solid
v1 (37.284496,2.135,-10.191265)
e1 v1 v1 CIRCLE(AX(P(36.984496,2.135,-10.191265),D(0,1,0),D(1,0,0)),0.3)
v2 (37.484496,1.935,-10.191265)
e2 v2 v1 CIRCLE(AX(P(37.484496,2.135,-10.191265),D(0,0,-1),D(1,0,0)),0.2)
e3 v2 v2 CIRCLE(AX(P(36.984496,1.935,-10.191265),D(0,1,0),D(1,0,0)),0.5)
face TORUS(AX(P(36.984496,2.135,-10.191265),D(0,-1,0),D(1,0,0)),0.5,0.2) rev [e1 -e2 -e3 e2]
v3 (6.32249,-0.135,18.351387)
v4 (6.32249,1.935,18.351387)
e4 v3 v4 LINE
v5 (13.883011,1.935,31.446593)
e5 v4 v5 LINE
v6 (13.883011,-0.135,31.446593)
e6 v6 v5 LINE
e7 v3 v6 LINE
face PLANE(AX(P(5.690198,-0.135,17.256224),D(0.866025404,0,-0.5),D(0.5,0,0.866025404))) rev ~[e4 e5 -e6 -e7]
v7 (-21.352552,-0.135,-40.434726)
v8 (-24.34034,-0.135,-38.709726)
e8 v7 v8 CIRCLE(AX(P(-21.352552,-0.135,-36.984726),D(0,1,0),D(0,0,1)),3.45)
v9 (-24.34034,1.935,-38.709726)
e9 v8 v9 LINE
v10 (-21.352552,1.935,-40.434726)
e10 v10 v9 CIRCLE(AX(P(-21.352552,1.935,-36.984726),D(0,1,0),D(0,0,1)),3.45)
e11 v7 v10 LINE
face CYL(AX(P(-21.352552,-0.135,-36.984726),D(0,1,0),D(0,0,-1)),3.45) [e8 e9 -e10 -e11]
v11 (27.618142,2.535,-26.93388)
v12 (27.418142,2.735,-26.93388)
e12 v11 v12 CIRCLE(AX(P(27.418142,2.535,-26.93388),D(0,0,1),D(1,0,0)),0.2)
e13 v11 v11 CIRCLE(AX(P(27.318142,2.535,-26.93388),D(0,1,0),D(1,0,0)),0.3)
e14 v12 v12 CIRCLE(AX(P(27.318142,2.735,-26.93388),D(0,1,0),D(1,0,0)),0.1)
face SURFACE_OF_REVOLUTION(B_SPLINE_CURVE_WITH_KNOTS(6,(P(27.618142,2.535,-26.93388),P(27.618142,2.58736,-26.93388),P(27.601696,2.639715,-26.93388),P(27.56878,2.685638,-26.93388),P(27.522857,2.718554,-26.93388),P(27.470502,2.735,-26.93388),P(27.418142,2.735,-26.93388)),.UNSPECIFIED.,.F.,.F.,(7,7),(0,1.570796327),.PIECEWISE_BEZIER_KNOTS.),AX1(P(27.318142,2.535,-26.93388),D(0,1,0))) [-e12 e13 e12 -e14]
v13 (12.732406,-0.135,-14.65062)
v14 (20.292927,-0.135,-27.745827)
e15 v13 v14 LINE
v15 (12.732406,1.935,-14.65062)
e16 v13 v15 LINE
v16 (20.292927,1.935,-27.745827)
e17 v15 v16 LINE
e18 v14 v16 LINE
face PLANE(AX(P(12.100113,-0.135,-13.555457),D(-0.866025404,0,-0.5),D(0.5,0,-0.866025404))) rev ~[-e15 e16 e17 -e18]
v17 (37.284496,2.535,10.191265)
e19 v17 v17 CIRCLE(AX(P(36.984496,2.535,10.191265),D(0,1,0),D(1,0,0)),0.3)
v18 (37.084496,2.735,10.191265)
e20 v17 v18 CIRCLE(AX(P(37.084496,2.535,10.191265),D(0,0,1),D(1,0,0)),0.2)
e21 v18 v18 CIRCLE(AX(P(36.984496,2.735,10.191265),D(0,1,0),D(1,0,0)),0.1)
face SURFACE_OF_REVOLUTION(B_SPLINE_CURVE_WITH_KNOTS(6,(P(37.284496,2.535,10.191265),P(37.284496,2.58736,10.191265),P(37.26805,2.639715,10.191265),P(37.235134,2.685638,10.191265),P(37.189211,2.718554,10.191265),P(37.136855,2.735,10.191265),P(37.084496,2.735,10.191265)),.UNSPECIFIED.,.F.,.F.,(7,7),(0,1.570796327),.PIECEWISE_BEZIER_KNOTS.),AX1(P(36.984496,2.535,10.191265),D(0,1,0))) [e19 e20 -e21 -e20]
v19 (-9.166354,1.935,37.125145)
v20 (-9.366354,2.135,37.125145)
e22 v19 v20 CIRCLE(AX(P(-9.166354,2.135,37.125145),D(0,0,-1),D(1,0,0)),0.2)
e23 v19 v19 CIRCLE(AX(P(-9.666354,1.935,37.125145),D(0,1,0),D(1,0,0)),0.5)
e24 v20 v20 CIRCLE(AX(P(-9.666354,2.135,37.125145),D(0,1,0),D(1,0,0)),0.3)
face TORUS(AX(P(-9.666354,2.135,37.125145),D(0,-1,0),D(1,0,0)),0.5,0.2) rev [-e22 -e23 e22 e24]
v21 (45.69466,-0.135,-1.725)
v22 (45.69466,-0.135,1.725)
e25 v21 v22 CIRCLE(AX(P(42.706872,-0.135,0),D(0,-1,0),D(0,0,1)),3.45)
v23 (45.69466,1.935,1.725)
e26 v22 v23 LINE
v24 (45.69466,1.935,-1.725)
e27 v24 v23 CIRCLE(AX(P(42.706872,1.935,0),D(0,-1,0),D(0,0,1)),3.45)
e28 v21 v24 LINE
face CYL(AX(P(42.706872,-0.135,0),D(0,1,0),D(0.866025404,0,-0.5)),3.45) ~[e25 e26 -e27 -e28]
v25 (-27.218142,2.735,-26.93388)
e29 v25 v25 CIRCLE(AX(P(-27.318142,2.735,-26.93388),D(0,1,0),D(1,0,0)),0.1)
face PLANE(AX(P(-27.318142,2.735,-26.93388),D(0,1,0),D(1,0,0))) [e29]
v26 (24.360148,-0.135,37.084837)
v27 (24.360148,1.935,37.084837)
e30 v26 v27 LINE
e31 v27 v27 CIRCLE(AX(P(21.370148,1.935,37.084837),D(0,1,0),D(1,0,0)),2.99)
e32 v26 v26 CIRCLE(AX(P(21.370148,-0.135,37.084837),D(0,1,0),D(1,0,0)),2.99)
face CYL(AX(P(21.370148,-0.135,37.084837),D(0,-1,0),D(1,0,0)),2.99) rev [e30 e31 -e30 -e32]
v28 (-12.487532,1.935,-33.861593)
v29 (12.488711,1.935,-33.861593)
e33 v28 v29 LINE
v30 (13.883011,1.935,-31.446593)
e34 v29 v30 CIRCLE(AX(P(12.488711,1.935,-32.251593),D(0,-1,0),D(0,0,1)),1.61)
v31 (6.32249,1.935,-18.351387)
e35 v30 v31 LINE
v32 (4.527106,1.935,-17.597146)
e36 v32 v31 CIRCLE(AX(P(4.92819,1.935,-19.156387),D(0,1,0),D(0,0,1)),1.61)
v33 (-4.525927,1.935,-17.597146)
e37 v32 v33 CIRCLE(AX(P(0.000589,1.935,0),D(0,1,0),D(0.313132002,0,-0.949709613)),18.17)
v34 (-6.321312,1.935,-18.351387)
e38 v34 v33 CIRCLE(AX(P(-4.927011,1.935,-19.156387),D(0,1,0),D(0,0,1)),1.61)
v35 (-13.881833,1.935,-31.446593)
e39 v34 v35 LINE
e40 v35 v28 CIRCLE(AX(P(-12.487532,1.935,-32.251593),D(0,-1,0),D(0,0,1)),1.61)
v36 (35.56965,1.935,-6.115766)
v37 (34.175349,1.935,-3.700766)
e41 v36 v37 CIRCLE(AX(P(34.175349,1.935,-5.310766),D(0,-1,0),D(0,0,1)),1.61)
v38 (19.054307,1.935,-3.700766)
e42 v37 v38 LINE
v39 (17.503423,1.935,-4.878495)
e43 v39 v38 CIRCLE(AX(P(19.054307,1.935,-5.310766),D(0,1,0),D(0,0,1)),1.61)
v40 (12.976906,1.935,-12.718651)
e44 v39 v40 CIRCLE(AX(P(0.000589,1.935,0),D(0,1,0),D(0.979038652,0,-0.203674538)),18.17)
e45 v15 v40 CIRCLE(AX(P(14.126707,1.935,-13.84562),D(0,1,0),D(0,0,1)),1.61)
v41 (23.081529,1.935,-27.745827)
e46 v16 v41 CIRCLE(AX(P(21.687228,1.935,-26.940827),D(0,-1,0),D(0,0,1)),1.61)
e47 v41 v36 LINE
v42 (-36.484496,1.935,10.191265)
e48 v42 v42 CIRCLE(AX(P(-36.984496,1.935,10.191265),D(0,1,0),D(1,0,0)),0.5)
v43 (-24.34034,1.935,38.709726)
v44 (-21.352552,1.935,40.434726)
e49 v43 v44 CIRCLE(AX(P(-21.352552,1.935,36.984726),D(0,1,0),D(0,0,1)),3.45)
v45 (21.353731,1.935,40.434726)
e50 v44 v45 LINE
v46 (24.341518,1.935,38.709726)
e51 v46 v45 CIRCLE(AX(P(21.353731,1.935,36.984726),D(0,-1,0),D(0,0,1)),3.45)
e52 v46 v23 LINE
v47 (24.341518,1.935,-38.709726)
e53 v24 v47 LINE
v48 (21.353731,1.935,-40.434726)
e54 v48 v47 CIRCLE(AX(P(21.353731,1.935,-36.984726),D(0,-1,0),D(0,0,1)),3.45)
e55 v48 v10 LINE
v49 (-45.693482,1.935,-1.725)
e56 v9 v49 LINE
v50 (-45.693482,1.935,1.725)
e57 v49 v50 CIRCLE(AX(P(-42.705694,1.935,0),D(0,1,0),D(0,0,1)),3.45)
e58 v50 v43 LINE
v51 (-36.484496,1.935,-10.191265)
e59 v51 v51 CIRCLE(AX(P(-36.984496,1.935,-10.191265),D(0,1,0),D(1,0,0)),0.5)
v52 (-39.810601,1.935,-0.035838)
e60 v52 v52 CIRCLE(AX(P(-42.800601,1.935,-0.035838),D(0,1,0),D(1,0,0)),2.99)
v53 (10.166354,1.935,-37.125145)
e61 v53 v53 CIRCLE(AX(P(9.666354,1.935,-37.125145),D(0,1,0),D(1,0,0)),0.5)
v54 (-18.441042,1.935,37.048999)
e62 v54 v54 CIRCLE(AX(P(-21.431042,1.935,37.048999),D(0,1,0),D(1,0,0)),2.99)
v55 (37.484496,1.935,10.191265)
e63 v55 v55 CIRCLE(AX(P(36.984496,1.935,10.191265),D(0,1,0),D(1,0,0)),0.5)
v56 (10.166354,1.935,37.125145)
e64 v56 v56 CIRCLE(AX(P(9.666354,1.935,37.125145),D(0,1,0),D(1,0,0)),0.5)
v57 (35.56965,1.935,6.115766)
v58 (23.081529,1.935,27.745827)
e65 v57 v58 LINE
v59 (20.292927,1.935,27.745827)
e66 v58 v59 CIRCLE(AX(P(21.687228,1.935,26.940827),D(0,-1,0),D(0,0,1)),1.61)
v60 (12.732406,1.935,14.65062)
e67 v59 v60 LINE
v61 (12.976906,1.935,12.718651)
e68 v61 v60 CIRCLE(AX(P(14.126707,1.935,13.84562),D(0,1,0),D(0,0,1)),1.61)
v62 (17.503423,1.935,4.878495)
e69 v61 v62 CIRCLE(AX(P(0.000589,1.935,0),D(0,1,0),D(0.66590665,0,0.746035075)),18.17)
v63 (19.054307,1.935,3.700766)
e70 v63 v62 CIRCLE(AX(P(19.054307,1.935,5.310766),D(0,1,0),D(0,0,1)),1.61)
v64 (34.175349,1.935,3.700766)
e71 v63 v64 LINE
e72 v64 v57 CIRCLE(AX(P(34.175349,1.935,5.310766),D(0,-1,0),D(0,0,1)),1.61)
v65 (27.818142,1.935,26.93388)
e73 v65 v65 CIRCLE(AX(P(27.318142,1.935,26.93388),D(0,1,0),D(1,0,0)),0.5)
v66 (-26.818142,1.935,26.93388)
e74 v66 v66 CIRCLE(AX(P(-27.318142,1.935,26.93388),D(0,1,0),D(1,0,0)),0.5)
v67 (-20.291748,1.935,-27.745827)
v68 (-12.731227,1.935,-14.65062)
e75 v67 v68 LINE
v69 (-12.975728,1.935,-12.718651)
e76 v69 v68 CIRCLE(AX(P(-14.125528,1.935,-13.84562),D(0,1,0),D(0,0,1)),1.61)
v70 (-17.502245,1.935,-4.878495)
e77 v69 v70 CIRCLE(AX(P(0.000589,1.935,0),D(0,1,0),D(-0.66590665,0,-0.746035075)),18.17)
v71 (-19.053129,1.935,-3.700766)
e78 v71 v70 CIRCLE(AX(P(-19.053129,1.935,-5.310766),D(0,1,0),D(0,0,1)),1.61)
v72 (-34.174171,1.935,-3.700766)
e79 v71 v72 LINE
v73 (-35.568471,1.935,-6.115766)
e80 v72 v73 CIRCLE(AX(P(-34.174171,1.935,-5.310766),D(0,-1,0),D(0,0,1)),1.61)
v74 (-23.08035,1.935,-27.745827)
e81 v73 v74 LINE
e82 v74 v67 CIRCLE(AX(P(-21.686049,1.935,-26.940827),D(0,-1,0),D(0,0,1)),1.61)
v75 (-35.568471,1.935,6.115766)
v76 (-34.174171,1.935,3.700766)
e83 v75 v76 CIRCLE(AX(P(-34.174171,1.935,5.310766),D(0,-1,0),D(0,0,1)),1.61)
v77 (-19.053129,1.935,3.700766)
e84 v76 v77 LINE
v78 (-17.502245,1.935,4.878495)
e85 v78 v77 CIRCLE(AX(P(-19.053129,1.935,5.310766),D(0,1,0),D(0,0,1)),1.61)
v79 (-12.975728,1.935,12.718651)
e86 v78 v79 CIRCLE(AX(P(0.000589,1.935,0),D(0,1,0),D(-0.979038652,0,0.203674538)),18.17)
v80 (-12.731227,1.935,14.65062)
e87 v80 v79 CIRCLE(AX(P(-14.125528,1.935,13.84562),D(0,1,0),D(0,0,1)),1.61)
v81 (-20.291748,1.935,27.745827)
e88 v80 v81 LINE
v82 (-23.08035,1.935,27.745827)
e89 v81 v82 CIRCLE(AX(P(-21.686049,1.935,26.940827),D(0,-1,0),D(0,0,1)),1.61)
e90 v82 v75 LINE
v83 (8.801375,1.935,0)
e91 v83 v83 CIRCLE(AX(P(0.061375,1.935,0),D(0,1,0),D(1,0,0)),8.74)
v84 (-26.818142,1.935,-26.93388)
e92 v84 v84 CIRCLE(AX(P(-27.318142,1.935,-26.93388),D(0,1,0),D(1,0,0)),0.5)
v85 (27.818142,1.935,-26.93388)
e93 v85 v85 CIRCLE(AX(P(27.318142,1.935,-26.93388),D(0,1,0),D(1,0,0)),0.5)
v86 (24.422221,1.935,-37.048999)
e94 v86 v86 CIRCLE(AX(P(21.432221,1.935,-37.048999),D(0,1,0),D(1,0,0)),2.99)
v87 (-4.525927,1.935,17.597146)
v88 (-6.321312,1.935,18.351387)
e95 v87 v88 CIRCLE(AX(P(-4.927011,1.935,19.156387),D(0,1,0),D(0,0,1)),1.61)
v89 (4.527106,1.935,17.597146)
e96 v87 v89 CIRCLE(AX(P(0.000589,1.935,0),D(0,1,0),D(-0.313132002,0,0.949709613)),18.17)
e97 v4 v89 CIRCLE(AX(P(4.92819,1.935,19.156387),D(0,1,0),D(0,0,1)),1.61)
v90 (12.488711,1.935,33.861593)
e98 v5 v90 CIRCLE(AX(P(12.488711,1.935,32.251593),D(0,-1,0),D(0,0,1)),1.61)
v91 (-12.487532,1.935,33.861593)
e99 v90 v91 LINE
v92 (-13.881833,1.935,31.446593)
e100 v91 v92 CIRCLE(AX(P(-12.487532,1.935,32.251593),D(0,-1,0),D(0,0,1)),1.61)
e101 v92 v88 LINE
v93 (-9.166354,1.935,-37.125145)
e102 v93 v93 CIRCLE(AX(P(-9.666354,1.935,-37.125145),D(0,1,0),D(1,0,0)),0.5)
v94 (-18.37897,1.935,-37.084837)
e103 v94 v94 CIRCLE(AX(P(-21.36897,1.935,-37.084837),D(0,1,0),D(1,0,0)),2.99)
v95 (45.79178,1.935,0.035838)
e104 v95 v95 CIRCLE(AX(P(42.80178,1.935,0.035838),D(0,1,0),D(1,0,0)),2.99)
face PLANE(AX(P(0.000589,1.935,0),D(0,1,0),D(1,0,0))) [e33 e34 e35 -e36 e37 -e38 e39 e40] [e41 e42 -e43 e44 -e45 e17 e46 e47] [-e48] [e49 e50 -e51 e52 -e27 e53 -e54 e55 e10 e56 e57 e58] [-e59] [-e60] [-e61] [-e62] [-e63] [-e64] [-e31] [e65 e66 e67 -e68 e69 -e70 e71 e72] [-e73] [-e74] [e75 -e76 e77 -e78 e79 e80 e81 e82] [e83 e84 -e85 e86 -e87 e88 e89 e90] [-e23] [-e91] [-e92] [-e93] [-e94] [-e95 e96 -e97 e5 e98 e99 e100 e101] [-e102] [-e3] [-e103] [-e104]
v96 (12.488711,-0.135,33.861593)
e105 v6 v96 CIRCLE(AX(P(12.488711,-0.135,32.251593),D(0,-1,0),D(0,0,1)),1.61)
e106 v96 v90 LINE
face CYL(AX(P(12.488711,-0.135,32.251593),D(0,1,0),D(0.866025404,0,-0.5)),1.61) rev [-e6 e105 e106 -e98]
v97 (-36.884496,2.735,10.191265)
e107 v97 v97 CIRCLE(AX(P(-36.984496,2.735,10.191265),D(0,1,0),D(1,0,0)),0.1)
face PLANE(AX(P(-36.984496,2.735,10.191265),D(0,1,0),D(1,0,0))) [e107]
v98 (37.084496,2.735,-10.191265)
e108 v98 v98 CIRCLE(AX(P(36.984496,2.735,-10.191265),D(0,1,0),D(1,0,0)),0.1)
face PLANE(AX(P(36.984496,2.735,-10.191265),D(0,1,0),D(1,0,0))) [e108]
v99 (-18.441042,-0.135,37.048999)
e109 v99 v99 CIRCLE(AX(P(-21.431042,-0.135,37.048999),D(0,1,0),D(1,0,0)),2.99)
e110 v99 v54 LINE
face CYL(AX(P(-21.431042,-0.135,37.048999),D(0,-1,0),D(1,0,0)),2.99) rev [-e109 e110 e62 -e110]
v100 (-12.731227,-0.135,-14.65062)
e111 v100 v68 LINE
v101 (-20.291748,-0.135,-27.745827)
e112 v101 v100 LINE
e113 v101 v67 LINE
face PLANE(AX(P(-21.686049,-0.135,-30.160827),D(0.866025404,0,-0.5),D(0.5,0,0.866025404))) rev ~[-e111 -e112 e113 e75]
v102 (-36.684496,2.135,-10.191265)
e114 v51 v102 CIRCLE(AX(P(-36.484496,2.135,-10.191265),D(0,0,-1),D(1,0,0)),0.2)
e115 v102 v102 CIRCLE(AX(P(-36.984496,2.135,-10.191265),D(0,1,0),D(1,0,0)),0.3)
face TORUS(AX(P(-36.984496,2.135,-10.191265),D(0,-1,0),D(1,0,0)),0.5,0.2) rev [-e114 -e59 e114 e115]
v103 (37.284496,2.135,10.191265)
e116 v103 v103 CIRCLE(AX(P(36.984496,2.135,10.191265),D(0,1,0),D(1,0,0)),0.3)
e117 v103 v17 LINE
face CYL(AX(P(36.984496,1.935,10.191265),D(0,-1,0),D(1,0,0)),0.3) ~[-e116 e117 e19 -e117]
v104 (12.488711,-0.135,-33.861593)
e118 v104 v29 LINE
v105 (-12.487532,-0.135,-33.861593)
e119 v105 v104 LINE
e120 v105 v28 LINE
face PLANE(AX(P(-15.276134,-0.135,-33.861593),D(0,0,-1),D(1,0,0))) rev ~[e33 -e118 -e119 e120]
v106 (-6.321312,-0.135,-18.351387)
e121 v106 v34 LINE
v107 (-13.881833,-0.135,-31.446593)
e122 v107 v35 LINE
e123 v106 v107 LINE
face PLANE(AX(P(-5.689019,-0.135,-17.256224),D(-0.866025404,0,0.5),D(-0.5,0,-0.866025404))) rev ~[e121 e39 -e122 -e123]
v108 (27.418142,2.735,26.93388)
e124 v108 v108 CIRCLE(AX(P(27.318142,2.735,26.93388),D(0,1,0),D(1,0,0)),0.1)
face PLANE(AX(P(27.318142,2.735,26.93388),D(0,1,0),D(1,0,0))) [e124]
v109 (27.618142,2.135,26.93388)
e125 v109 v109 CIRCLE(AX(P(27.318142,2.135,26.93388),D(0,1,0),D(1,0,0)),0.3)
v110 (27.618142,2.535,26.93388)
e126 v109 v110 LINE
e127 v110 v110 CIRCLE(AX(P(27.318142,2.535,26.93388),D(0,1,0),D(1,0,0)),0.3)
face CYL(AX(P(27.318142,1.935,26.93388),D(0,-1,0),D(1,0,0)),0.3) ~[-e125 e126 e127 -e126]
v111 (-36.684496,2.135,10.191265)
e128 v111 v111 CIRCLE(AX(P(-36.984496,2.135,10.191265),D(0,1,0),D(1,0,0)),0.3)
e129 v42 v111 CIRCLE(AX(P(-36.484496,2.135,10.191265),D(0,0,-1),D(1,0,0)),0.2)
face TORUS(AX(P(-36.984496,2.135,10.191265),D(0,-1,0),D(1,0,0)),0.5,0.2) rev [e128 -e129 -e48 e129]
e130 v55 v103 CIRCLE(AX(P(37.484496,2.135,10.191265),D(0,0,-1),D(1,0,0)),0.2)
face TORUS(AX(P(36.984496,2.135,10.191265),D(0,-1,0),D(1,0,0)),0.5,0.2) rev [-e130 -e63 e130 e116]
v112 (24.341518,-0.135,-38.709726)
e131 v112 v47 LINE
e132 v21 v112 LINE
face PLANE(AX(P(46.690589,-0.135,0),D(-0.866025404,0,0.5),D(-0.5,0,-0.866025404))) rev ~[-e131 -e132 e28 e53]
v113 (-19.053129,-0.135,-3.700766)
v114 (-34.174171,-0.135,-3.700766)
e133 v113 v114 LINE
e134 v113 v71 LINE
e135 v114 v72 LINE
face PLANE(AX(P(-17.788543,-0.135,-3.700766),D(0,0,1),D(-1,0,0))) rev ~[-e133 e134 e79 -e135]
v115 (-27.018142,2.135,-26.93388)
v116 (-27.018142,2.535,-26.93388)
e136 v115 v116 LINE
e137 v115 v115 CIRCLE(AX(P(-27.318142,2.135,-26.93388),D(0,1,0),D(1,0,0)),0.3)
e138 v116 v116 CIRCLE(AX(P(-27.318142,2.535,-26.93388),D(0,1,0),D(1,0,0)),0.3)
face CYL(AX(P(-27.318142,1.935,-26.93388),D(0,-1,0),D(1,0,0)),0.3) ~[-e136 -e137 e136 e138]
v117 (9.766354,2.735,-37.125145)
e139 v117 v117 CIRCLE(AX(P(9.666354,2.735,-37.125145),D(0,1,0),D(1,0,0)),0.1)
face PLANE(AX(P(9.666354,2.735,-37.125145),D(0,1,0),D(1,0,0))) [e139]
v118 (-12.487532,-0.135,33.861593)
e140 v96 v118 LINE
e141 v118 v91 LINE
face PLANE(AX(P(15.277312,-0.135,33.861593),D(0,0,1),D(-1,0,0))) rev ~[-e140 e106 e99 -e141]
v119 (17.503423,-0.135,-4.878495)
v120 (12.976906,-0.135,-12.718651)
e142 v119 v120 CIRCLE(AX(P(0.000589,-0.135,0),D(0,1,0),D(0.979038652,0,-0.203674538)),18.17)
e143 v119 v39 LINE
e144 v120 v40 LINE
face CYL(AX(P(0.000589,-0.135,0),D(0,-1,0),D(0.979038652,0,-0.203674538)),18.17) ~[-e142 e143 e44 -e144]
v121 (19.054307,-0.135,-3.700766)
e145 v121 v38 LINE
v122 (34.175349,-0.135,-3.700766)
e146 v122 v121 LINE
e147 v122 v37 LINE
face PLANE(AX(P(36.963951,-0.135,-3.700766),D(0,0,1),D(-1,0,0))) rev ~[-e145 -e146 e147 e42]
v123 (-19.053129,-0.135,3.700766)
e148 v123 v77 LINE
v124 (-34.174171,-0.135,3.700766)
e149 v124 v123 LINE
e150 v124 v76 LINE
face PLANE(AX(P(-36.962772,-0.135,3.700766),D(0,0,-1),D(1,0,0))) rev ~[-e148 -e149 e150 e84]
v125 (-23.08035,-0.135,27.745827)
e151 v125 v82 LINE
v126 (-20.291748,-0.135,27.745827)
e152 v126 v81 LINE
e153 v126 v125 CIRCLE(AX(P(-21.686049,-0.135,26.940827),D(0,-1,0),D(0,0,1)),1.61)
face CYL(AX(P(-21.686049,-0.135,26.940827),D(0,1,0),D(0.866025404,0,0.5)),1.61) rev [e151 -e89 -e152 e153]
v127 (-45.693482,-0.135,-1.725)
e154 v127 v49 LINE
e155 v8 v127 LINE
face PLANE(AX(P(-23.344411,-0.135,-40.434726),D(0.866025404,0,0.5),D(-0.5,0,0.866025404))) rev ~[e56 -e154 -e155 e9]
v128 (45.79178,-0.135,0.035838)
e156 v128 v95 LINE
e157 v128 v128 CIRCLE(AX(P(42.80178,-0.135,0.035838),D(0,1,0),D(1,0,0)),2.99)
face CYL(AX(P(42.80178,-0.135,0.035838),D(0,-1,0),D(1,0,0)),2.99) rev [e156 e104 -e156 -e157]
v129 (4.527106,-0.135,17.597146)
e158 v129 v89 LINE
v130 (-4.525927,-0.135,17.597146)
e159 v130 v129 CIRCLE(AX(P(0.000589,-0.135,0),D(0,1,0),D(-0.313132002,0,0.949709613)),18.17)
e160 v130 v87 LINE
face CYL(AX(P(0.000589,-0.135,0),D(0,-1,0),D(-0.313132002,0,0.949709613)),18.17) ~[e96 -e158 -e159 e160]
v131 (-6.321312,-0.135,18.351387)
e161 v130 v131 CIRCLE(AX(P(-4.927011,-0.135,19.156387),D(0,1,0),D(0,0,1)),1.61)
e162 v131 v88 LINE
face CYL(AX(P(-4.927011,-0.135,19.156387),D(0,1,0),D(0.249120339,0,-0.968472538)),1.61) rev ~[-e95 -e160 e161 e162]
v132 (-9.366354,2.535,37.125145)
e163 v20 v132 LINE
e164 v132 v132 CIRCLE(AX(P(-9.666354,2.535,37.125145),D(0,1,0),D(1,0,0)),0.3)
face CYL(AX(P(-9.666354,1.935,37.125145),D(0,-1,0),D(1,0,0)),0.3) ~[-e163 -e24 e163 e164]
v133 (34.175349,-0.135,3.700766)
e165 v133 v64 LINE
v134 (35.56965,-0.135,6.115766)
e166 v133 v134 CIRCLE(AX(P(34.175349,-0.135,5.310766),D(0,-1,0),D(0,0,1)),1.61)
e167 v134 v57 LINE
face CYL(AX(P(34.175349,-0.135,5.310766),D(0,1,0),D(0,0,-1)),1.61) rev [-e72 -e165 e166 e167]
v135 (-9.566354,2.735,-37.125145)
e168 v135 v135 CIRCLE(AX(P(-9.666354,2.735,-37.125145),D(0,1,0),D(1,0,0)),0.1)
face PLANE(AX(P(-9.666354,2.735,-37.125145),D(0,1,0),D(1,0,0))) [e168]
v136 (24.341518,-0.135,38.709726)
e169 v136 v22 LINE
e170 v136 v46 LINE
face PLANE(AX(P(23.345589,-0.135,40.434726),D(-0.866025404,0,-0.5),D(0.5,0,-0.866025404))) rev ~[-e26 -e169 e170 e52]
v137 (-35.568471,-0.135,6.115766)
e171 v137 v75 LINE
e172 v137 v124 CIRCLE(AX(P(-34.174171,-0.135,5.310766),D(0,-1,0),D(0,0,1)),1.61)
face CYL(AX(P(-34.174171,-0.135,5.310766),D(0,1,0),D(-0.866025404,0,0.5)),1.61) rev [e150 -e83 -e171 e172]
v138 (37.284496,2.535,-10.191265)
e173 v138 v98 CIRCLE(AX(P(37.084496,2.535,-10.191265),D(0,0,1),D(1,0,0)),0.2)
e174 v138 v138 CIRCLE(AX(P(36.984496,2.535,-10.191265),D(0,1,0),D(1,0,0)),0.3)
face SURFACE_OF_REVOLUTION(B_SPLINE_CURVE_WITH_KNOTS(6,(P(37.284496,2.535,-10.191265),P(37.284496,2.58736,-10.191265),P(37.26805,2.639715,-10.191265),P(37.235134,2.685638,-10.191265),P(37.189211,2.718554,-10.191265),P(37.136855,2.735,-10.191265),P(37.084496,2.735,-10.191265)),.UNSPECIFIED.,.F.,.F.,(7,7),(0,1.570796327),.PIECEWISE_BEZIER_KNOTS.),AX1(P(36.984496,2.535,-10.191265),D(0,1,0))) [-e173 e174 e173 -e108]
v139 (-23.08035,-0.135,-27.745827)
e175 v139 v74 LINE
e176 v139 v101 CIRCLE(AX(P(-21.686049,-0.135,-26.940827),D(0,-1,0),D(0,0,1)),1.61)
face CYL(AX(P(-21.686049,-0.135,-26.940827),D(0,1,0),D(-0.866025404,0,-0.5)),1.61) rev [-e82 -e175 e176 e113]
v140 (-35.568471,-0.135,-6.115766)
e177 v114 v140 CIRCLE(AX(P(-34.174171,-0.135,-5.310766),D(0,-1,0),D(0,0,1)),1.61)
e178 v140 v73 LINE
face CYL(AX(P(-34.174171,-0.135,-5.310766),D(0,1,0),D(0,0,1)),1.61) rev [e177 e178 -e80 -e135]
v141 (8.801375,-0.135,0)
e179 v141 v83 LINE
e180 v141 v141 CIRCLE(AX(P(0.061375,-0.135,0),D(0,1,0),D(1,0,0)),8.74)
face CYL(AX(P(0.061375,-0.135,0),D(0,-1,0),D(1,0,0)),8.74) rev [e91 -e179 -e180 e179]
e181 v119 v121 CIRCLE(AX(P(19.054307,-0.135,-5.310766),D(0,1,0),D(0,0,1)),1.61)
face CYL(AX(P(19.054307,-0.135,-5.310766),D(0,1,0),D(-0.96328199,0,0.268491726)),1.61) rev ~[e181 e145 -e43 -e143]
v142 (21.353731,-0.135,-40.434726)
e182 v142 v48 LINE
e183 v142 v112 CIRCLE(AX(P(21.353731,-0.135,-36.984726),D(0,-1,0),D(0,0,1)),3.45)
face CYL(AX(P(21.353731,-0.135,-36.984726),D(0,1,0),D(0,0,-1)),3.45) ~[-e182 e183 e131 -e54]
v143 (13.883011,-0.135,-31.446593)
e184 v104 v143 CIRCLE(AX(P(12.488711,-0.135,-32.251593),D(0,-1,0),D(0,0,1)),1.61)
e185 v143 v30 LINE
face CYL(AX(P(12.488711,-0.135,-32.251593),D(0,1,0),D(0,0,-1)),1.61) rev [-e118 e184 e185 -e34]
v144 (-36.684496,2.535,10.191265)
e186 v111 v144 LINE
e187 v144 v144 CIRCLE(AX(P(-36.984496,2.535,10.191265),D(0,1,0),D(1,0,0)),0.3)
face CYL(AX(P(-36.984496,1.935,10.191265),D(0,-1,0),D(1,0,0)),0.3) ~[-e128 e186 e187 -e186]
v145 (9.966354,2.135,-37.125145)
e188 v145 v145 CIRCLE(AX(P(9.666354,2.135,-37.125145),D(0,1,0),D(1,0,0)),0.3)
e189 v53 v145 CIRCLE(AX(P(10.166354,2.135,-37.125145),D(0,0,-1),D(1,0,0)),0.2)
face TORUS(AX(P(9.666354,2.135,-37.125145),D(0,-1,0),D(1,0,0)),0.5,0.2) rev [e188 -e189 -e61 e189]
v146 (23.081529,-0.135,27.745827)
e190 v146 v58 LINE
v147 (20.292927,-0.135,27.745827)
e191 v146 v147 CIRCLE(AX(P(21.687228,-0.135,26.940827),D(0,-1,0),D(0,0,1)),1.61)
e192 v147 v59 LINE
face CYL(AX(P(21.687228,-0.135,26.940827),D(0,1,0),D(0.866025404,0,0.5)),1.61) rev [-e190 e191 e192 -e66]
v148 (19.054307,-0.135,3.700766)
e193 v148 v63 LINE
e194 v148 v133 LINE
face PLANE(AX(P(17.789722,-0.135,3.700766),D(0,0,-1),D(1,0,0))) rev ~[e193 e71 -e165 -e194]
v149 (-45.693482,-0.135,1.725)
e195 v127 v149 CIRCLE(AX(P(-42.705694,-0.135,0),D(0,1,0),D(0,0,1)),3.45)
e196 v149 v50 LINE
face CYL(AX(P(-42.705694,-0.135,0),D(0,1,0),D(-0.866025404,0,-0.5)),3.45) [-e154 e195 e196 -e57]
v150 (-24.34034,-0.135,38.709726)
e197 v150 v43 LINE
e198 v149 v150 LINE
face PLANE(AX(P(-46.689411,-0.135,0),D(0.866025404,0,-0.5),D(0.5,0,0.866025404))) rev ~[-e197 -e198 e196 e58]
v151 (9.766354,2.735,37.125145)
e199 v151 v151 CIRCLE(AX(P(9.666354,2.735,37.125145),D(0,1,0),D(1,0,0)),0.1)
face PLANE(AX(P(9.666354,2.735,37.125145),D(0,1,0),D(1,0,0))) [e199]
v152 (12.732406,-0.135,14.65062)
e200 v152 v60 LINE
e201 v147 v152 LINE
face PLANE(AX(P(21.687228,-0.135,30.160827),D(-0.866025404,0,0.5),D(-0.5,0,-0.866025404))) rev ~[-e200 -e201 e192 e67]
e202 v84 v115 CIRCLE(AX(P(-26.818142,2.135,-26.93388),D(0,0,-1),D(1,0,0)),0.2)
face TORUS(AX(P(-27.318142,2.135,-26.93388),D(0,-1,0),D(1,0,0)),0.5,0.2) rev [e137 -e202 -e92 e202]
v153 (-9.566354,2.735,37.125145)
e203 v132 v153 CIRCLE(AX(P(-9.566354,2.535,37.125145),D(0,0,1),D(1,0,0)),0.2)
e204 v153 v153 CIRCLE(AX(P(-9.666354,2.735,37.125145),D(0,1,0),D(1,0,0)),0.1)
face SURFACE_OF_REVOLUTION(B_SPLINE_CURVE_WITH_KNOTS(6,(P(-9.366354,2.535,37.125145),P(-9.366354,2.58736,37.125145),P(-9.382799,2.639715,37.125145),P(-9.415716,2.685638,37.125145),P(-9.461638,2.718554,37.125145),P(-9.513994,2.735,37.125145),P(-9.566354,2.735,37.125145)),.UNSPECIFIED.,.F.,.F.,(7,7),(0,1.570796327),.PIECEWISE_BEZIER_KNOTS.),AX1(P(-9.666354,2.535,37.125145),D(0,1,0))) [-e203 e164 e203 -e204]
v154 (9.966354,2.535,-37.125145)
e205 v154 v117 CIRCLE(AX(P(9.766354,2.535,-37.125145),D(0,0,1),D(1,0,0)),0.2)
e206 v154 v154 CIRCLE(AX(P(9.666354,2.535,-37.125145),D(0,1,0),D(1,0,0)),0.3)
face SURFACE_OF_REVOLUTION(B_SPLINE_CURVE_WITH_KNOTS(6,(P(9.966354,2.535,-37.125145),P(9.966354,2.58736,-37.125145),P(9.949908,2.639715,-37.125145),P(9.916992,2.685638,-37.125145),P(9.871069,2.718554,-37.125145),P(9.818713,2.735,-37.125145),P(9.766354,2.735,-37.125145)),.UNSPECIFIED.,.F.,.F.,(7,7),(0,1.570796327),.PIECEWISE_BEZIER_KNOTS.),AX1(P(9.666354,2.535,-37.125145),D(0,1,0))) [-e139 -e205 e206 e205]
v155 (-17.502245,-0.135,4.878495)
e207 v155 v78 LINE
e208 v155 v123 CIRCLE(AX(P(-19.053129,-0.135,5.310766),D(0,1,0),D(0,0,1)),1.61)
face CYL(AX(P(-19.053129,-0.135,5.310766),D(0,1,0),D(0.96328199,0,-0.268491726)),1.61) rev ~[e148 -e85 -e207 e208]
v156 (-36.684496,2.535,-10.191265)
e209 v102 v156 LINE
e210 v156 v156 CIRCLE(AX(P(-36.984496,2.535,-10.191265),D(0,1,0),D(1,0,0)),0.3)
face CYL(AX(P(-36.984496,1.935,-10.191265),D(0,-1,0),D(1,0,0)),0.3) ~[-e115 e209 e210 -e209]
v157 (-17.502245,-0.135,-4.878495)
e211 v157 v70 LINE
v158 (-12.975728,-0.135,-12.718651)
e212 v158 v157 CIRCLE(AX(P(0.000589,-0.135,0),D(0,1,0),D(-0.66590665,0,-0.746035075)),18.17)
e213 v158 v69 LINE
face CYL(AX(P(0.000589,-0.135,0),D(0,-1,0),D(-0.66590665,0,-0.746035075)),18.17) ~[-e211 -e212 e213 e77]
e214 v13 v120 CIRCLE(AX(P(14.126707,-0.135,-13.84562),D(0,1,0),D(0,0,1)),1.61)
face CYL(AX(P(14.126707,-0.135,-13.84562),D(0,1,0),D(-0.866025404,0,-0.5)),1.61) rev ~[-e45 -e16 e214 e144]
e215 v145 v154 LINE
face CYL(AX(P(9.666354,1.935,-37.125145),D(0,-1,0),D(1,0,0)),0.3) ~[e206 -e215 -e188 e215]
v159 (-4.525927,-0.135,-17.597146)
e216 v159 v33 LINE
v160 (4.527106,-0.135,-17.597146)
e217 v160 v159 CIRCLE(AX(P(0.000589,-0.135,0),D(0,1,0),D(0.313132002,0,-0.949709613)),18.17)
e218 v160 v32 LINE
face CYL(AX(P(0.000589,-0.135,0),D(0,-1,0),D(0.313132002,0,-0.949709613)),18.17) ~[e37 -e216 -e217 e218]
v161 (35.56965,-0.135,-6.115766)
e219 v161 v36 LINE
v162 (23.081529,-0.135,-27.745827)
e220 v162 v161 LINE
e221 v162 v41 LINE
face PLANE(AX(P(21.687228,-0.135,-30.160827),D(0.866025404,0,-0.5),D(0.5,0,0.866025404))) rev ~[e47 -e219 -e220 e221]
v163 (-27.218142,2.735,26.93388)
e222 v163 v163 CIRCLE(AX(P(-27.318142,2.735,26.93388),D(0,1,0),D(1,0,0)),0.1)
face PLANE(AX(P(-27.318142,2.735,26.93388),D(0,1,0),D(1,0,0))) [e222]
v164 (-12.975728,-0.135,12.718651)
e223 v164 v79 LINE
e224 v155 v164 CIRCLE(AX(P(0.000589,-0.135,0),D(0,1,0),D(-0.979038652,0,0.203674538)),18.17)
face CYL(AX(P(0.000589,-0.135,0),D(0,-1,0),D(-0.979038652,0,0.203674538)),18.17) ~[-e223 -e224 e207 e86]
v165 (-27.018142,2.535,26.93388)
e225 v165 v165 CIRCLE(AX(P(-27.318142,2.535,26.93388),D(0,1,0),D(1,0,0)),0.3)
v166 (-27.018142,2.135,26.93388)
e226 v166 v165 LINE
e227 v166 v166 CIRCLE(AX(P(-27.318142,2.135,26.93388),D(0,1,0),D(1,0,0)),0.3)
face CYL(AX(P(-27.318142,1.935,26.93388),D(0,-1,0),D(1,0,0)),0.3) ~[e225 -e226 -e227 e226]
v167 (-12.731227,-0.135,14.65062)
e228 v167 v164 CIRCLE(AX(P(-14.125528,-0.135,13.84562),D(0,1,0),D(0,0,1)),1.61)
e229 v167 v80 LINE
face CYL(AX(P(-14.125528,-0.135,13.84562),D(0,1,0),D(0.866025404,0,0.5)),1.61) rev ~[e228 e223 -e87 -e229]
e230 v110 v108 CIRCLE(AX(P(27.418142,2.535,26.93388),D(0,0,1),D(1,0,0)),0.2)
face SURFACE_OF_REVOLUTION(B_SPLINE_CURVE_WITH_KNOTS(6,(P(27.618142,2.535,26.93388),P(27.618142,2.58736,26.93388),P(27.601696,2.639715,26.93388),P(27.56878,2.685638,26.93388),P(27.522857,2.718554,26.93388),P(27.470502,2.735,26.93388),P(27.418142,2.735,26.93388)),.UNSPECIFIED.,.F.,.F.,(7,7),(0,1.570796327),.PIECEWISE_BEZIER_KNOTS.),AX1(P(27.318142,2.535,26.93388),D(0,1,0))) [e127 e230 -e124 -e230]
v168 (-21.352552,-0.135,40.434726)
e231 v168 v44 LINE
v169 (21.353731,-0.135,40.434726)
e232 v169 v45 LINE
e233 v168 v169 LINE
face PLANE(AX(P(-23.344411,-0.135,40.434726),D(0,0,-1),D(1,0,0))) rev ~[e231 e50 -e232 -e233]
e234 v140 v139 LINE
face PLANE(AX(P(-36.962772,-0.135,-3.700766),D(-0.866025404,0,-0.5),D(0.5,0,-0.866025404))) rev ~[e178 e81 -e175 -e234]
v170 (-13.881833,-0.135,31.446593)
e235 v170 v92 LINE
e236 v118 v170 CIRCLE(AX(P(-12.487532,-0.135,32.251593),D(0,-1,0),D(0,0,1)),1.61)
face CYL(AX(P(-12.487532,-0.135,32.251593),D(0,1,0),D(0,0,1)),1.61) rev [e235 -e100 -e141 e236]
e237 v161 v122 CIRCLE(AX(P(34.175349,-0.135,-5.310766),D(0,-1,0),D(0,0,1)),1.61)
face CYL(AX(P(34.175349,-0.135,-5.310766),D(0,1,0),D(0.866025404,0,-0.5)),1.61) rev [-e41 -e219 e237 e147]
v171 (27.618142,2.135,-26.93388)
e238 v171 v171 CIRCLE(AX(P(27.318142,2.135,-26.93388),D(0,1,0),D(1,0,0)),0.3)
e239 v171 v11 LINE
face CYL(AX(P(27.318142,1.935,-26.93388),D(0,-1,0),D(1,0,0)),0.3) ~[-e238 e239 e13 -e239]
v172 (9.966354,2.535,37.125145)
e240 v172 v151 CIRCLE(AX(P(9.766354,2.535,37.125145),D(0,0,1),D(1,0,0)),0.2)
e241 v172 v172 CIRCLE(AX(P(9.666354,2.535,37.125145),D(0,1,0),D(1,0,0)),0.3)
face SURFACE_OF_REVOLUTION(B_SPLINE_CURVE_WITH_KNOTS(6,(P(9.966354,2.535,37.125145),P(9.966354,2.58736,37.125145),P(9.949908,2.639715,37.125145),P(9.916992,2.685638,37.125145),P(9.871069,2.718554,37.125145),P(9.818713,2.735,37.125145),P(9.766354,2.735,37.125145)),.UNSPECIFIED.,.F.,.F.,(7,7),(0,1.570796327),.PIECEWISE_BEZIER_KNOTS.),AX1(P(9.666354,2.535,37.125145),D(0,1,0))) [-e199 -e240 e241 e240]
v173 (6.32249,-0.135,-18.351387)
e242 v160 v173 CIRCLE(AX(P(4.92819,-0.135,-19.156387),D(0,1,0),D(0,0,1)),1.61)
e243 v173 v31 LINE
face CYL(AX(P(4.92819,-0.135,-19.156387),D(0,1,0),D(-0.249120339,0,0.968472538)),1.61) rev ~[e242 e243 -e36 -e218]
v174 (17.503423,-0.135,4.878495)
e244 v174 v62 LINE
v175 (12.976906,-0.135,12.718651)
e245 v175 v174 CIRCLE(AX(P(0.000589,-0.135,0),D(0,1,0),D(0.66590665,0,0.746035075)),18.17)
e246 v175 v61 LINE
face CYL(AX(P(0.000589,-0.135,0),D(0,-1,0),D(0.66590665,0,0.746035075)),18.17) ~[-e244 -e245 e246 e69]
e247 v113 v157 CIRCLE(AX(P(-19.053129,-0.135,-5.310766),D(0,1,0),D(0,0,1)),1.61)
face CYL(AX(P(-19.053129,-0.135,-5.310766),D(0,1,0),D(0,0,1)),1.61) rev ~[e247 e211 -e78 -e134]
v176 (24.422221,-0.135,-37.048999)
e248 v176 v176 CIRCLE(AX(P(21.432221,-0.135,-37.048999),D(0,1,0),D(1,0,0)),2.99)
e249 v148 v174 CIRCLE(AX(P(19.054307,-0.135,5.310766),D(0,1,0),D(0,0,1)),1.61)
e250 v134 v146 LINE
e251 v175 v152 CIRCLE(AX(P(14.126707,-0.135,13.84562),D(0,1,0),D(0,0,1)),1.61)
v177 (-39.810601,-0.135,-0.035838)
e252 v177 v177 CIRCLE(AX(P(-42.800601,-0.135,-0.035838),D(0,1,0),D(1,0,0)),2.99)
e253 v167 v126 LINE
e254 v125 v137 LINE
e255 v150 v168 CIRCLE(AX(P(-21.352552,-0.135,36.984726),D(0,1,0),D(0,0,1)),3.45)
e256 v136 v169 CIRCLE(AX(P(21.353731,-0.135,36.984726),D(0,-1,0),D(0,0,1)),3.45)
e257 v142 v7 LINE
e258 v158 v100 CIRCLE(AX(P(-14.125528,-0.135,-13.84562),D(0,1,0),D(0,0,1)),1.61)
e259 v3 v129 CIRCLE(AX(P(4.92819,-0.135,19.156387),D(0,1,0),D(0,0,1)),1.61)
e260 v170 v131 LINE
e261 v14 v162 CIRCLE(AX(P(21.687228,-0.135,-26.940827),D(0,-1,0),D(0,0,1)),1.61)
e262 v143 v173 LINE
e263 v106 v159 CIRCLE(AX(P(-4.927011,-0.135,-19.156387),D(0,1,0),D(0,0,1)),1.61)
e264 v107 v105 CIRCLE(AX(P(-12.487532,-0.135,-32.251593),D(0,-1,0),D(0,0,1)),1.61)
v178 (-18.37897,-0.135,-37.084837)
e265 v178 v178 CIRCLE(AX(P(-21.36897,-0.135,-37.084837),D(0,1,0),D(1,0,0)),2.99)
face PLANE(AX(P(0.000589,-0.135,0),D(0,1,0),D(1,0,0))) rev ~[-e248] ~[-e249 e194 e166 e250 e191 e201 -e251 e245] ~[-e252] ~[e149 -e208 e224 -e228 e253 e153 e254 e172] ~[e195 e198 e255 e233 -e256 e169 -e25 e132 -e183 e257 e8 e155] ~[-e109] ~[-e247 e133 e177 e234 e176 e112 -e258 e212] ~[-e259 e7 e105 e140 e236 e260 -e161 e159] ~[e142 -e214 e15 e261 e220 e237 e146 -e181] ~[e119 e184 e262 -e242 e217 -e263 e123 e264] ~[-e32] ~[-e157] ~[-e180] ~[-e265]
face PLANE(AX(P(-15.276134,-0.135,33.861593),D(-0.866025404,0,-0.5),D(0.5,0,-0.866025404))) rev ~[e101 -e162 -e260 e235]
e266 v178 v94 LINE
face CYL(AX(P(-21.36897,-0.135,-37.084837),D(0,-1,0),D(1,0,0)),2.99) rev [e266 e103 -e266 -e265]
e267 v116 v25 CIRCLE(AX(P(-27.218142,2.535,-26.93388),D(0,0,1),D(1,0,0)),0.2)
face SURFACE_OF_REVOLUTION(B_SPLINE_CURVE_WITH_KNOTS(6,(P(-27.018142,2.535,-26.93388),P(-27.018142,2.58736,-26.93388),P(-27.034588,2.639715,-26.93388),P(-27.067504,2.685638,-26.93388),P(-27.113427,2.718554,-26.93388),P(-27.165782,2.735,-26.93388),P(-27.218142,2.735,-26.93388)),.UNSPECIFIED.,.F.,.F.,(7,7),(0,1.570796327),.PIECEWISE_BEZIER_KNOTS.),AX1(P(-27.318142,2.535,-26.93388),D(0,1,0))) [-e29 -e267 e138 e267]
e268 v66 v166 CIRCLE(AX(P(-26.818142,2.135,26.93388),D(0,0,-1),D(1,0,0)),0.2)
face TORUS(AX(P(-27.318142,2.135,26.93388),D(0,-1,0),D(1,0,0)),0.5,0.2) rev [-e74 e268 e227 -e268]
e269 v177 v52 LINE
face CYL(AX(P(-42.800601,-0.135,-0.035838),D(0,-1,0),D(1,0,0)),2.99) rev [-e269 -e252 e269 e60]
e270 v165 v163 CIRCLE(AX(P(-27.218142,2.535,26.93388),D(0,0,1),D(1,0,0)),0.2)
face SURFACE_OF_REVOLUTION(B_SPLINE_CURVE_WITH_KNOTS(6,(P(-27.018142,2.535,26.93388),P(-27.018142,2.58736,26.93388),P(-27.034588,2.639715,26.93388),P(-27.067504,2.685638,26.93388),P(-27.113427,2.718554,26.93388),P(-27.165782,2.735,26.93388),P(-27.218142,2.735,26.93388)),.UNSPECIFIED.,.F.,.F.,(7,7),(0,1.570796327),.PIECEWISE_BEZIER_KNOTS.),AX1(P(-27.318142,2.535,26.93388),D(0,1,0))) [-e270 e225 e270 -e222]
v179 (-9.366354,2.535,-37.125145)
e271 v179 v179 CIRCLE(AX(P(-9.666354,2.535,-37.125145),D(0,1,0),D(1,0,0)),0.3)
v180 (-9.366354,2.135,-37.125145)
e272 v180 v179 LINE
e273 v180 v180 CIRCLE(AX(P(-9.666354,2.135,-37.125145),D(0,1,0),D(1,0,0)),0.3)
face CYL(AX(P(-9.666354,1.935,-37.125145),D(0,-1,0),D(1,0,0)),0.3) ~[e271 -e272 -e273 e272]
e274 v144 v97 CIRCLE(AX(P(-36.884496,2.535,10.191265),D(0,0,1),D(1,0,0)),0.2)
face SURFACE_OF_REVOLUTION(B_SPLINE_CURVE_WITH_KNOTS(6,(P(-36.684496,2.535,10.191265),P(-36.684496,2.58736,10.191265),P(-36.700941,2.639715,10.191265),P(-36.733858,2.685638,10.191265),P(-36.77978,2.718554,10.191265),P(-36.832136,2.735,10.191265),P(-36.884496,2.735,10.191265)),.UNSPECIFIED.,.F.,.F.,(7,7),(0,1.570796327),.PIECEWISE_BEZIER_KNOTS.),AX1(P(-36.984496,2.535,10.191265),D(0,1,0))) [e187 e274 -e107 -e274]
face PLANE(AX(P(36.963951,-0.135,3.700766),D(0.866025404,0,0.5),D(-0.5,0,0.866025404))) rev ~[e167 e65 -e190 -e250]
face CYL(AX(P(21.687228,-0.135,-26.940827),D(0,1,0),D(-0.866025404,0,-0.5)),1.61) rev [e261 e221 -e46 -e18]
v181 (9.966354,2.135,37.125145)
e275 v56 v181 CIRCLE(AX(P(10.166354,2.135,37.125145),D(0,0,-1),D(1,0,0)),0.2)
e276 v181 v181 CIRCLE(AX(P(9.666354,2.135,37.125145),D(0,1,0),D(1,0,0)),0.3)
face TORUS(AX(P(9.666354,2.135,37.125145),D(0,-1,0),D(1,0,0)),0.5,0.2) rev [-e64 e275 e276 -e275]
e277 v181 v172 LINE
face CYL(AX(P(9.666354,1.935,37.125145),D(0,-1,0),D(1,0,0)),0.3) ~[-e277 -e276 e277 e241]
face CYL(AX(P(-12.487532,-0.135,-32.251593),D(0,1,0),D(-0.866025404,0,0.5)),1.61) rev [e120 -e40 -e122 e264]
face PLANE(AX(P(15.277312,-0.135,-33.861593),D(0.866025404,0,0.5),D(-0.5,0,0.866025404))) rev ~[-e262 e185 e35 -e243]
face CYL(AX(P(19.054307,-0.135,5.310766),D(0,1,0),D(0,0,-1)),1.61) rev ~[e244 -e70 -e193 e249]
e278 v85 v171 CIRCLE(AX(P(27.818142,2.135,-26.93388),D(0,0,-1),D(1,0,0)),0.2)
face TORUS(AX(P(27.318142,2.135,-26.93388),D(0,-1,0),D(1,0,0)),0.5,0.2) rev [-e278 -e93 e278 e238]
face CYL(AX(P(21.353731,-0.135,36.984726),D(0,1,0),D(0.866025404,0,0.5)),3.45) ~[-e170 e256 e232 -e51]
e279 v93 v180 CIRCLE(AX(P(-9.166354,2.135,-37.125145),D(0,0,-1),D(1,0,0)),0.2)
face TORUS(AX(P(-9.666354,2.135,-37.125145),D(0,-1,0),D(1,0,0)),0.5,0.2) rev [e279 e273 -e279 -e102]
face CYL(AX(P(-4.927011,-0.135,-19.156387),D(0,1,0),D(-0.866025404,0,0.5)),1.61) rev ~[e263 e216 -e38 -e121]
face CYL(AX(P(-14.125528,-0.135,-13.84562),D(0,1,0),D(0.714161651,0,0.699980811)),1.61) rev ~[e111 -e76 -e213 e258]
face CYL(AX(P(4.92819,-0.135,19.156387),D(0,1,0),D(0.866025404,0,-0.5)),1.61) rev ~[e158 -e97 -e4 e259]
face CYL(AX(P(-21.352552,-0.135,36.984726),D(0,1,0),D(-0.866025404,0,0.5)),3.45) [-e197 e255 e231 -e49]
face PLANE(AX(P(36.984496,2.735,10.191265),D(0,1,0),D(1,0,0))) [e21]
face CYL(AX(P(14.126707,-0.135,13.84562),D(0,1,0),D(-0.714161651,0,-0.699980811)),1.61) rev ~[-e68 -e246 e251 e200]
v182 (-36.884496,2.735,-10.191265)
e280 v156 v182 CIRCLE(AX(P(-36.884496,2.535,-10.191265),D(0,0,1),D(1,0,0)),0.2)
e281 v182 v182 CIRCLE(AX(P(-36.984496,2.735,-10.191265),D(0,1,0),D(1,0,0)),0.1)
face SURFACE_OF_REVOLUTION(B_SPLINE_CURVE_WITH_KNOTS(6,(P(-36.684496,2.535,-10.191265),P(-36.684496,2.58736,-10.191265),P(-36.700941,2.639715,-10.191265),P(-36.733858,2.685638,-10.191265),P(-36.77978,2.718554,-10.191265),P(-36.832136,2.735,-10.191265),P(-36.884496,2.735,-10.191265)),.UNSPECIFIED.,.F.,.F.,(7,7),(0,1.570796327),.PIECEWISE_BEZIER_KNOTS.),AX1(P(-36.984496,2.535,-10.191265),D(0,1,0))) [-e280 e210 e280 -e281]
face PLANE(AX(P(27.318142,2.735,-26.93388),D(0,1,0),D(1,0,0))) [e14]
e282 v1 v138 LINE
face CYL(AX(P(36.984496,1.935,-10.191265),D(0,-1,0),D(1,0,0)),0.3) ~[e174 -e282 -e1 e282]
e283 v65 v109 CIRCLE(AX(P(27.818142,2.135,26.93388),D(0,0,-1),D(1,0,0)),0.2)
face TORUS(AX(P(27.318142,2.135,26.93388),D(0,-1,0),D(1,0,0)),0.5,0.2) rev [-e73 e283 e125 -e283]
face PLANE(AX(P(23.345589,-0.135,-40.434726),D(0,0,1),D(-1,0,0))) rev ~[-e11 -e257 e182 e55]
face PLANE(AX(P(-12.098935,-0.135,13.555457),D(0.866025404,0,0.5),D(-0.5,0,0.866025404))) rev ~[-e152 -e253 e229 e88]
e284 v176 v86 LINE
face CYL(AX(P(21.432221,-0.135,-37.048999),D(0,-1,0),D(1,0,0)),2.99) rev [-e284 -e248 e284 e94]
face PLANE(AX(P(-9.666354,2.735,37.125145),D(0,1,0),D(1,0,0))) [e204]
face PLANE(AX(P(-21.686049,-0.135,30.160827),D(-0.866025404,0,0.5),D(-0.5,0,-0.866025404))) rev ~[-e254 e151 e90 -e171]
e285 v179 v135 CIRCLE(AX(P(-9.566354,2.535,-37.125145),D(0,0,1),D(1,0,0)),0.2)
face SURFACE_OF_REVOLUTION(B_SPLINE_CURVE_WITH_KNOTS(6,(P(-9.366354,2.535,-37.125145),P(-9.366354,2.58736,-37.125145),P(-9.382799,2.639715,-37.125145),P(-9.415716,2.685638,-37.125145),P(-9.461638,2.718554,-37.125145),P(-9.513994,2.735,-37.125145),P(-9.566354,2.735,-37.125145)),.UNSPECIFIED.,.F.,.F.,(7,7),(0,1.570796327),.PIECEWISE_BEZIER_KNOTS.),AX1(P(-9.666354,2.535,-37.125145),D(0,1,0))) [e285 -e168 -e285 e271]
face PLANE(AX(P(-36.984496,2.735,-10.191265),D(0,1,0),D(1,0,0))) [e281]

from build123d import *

# Parameters (mm, degrees)
SKETCH1_R           = 2.6
SKETCH1_R_2         = 7.6
BOSS_EXTRUDE1_DEPTH = 1.8
FILLET1_R           = 3
FILLET2_R           = 1.4
SCALE1_SCALE        = 1.15
SKETCH4_R           = 0.3
BOSS_EXTRUDE3_DEPTH = 0.8
FILLET5_R           = 0.2


with BuildPart() as part:
    # Sketch1 → Boss-Extrude1 (new body)
    with BuildSketch(Plane(origin=(0, 0, 0), x_dir=(1, 0, 0), z_dir=(0, 1, 0))):
        Polygon((20.3, 35.160631394), (-20.3, 35.160631394), (-40.6, 0), (-20.3, -35.160631394), (20.3, -35.160631394), (40.6, 0), align=None)
        with Locations((-18.636201283, -32.21652123)):
            Circle(SKETCH1_R, mode=Mode.SUBTRACT)
        with Locations((18.582225165, -32.247684356)):
            Circle(SKETCH1_R, mode=Mode.SUBTRACT)
        with Locations((37.218426448, -0.031163126)):
            Circle(SKETCH1_R, mode=Mode.SUBTRACT)
        with Locations((-37.218426448, 0.031163126)):
            Circle(SKETCH1_R, mode=Mode.SUBTRACT)
        with BuildLine():
            Line((-32.142053523, 3.218057696), (-18.857946477, 26.226806032))
            Line((-18.857946477, 26.226806032), (-10.521325069, 11.78735419))
            ThreePointArc((-10.521325069, 11.78735419), (-13.68320138, 7.9), (-15.468810706, 3.218057696))
            Line((-15.468810706, 3.218057696), (-32.142053523, 3.218057696))
        make_face(mode=Mode.SUBTRACT)
        with BuildLine():
            Line((-18.857946477, -26.226806032), (-32.142053523, -3.218057696))
            Line((-32.142053523, -3.218057696), (-15.468810706, -3.218057696))
            ThreePointArc((-15.468810706, -3.218057696), (-13.68320138, -7.9), (-10.521325069, -11.78735419))
            Line((-10.521325069, -11.78735419), (-18.857946477, -26.226806032))
        make_face(mode=Mode.SUBTRACT)
        with BuildLine():
            Line((13.284107046, -29.444863729), (-13.284107046, -29.444863729))
            Line((-13.284107046, -29.444863729), (-4.947485637, -15.005411886))
            ThreePointArc((-4.947485637, -15.005411886), (0, -15.8), (4.947485637, -15.005411886))
            Line((4.947485637, -15.005411886), (13.284107046, -29.444863729))
        make_face(mode=Mode.SUBTRACT)
        with BuildLine():
            Line((32.142053523, -3.218057696), (18.857946477, -26.226806032))
            Line((18.857946477, -26.226806032), (10.521325069, -11.78735419))
            ThreePointArc((10.521325069, -11.78735419), (13.68320138, -7.9), (15.468810706, -3.218057696))
            Line((15.468810706, -3.218057696), (32.142053523, -3.218057696))
        make_face(mode=Mode.SUBTRACT)
        with BuildLine():
            Line((18.857946477, 26.226806032), (32.142053523, 3.218057696))
            Line((32.142053523, 3.218057696), (15.468810706, 3.218057696))
            ThreePointArc((15.468810706, 3.218057696), (13.68320138, 7.9), (10.521325069, 11.78735419))
            Line((10.521325069, 11.78735419), (18.857946477, 26.226806032))
        make_face(mode=Mode.SUBTRACT)
        with BuildLine():
            Line((-13.284107046, 29.444863729), (13.284107046, 29.444863729))
            Line((13.284107046, 29.444863729), (4.947485637, 15.005411886))
            ThreePointArc((4.947485637, 15.005411886), (0, 15.8), (-4.947485637, 15.005411886))
            Line((-4.947485637, 15.005411886), (-13.284107046, 29.444863729))
        make_face(mode=Mode.SUBTRACT)
        with Locations((-18.582225165, 32.247684356)):
            Circle(SKETCH1_R, mode=Mode.SUBTRACT)
        with Locations((18.636201283, 32.21652123)):
            Circle(SKETCH1_R, mode=Mode.SUBTRACT)
        with Locations((0.052857117, 0)):
            Circle(SKETCH1_R_2, mode=Mode.SUBTRACT)
    extrude(amount=BOSS_EXTRUDE1_DEPTH)

    # Fillet1
    fillet1_edges = [part.edges().sort_by_distance(p)[0] for p in [
        (40.6, 0.9, 0),
        (20.3, 0.9, 35.160631394),
        (-20.3, 0.9, 35.160631394),
        (-40.6, 0.9, 0),
        (-20.3, 0.9, -35.160631394),
        (20.3, 0.9, -35.160631394),
    ]]
    fillet(fillet1_edges, radius=FILLET1_R)

    # Fillet2
    fillet2_edges = [part.edges().sort_by_distance(p)[0] for p in [
        (-32.142053523, 0.9, -3.218057696),
        (-15.468810706, 0.9, -3.218057696),
        (-10.521325069, 0.9, -11.78735419),
        (-18.857946477, 0.9, -26.226806032),
        (-18.857946477, 0.9, 26.226806032),
        (-10.521325069, 0.9, 11.78735419),
        (-15.468810706, 0.9, 3.218057696),
        (-32.142053523, 0.9, 3.218057696),
        (13.284107046, 0.9, 29.444863729),
        (4.947485637, 0.9, 15.005411886),
        (-4.947485637, 0.9, 15.005411886),
        (-13.284107046, 0.9, 29.444863729),
        (32.142053523, 0.9, 3.218057696),
        (15.468810706, 0.9, 3.218057696),
        (10.521325069, 0.9, 11.78735419),
        (18.857946477, 0.9, 26.226806032),
        (18.857946477, 0.9, -26.226806032),
        (10.521325069, 0.9, -11.78735419),
        (15.468810706, 0.9, -3.218057696),
        (32.142053523, 0.9, -3.218057696),
        (-13.284107046, 0.9, -29.444863729),
        (-4.947485637, 0.9, -15.005411886),
        (4.947485637, 0.9, -15.005411886),
        (13.284107046, 0.9, -29.444863729),
    ]]
    fillet(fillet2_edges, radius=FILLET2_R)


with BuildPart() as part_1:
    # Scale1: scaled about (-0.003928135, 0.9, 0)
    add(part.part.scale(SCALE1_SCALE).moved(Location((0.00058922, -0.135, 0))))

    # Sketch4 → Boss-Extrude3 (add)
    with BuildSketch(Plane(origin=(0, 1.935, 0), x_dir=(1, 0, 0), z_dir=(0, 1, 0))):
        with Locations((-9.666353585, 37.12514511)):
            Circle(SKETCH4_R)
        with Locations((9.666353585, 37.12514511)):
            Circle(SKETCH4_R)
        with Locations((27.318141992, 26.933880322)):
            Circle(SKETCH4_R)
        with Locations((36.984495577, 10.191264788)):
            Circle(SKETCH4_R)
        with Locations((36.984495577, -10.191264788)):
            Circle(SKETCH4_R)
        with Locations((27.318141992, -26.933880322)):
            Circle(SKETCH4_R)
        with Locations((9.666353585, -37.12514511)):
            Circle(SKETCH4_R)
        with Locations((-9.666353585, -37.12514511)):
            Circle(SKETCH4_R)
        with Locations((-27.318141992, -26.933880322)):
            Circle(SKETCH4_R)
        with Locations((-36.984495577, -10.191264788)):
            Circle(SKETCH4_R)
        with Locations((-36.984495577, 10.191264788)):
            Circle(SKETCH4_R)
        with Locations((-27.318141992, 26.933880322)):
            Circle(SKETCH4_R)
    extrude(amount=BOSS_EXTRUDE3_DEPTH)

    # Fillet5
    fillet5_edges = [part_1.edges().sort_by_distance(p)[0] for p in [
        (-9.966353585, 1.935, -37.12514511),
        (-9.966353585, 2.735, -37.12514511),
        (9.366353585, 1.935, -37.12514511),
        (9.366353585, 2.735, -37.12514511),
        (27.018141992, 1.935, -26.933880322),
        (27.018141992, 2.735, -26.933880322),
        (36.684495577, 1.935, -10.191264788),
        (36.684495577, 2.735, -10.191264788),
        (36.684495577, 1.935, 10.191264788),
        (36.684495577, 2.735, 10.191264788),
        (27.018141992, 1.935, 26.933880322),
        (27.018141992, 2.735, 26.933880322),
        (9.366353585, 1.935, 37.12514511),
        (9.366353585, 2.735, 37.12514511),
        (-9.966353585, 1.935, 37.12514511),
        (-9.966353585, 2.735, 37.12514511),
        (-27.618141992, 1.935, 26.933880322),
        (-27.618141992, 2.735, 26.933880322),
        (-37.284495577, 1.935, 10.191264788),
        (-37.284495577, 2.735, 10.191264788),
        (-37.284495577, 1.935, -10.191264788),
        (-37.284495577, 2.735, -10.191264788),
        (-27.618141992, 1.935, -26.933880322),
        (-27.618141992, 2.735, -26.933880322),
    ]]
    fillet(fillet5_edges, radius=FILLET5_R)


solid = part_1.part
